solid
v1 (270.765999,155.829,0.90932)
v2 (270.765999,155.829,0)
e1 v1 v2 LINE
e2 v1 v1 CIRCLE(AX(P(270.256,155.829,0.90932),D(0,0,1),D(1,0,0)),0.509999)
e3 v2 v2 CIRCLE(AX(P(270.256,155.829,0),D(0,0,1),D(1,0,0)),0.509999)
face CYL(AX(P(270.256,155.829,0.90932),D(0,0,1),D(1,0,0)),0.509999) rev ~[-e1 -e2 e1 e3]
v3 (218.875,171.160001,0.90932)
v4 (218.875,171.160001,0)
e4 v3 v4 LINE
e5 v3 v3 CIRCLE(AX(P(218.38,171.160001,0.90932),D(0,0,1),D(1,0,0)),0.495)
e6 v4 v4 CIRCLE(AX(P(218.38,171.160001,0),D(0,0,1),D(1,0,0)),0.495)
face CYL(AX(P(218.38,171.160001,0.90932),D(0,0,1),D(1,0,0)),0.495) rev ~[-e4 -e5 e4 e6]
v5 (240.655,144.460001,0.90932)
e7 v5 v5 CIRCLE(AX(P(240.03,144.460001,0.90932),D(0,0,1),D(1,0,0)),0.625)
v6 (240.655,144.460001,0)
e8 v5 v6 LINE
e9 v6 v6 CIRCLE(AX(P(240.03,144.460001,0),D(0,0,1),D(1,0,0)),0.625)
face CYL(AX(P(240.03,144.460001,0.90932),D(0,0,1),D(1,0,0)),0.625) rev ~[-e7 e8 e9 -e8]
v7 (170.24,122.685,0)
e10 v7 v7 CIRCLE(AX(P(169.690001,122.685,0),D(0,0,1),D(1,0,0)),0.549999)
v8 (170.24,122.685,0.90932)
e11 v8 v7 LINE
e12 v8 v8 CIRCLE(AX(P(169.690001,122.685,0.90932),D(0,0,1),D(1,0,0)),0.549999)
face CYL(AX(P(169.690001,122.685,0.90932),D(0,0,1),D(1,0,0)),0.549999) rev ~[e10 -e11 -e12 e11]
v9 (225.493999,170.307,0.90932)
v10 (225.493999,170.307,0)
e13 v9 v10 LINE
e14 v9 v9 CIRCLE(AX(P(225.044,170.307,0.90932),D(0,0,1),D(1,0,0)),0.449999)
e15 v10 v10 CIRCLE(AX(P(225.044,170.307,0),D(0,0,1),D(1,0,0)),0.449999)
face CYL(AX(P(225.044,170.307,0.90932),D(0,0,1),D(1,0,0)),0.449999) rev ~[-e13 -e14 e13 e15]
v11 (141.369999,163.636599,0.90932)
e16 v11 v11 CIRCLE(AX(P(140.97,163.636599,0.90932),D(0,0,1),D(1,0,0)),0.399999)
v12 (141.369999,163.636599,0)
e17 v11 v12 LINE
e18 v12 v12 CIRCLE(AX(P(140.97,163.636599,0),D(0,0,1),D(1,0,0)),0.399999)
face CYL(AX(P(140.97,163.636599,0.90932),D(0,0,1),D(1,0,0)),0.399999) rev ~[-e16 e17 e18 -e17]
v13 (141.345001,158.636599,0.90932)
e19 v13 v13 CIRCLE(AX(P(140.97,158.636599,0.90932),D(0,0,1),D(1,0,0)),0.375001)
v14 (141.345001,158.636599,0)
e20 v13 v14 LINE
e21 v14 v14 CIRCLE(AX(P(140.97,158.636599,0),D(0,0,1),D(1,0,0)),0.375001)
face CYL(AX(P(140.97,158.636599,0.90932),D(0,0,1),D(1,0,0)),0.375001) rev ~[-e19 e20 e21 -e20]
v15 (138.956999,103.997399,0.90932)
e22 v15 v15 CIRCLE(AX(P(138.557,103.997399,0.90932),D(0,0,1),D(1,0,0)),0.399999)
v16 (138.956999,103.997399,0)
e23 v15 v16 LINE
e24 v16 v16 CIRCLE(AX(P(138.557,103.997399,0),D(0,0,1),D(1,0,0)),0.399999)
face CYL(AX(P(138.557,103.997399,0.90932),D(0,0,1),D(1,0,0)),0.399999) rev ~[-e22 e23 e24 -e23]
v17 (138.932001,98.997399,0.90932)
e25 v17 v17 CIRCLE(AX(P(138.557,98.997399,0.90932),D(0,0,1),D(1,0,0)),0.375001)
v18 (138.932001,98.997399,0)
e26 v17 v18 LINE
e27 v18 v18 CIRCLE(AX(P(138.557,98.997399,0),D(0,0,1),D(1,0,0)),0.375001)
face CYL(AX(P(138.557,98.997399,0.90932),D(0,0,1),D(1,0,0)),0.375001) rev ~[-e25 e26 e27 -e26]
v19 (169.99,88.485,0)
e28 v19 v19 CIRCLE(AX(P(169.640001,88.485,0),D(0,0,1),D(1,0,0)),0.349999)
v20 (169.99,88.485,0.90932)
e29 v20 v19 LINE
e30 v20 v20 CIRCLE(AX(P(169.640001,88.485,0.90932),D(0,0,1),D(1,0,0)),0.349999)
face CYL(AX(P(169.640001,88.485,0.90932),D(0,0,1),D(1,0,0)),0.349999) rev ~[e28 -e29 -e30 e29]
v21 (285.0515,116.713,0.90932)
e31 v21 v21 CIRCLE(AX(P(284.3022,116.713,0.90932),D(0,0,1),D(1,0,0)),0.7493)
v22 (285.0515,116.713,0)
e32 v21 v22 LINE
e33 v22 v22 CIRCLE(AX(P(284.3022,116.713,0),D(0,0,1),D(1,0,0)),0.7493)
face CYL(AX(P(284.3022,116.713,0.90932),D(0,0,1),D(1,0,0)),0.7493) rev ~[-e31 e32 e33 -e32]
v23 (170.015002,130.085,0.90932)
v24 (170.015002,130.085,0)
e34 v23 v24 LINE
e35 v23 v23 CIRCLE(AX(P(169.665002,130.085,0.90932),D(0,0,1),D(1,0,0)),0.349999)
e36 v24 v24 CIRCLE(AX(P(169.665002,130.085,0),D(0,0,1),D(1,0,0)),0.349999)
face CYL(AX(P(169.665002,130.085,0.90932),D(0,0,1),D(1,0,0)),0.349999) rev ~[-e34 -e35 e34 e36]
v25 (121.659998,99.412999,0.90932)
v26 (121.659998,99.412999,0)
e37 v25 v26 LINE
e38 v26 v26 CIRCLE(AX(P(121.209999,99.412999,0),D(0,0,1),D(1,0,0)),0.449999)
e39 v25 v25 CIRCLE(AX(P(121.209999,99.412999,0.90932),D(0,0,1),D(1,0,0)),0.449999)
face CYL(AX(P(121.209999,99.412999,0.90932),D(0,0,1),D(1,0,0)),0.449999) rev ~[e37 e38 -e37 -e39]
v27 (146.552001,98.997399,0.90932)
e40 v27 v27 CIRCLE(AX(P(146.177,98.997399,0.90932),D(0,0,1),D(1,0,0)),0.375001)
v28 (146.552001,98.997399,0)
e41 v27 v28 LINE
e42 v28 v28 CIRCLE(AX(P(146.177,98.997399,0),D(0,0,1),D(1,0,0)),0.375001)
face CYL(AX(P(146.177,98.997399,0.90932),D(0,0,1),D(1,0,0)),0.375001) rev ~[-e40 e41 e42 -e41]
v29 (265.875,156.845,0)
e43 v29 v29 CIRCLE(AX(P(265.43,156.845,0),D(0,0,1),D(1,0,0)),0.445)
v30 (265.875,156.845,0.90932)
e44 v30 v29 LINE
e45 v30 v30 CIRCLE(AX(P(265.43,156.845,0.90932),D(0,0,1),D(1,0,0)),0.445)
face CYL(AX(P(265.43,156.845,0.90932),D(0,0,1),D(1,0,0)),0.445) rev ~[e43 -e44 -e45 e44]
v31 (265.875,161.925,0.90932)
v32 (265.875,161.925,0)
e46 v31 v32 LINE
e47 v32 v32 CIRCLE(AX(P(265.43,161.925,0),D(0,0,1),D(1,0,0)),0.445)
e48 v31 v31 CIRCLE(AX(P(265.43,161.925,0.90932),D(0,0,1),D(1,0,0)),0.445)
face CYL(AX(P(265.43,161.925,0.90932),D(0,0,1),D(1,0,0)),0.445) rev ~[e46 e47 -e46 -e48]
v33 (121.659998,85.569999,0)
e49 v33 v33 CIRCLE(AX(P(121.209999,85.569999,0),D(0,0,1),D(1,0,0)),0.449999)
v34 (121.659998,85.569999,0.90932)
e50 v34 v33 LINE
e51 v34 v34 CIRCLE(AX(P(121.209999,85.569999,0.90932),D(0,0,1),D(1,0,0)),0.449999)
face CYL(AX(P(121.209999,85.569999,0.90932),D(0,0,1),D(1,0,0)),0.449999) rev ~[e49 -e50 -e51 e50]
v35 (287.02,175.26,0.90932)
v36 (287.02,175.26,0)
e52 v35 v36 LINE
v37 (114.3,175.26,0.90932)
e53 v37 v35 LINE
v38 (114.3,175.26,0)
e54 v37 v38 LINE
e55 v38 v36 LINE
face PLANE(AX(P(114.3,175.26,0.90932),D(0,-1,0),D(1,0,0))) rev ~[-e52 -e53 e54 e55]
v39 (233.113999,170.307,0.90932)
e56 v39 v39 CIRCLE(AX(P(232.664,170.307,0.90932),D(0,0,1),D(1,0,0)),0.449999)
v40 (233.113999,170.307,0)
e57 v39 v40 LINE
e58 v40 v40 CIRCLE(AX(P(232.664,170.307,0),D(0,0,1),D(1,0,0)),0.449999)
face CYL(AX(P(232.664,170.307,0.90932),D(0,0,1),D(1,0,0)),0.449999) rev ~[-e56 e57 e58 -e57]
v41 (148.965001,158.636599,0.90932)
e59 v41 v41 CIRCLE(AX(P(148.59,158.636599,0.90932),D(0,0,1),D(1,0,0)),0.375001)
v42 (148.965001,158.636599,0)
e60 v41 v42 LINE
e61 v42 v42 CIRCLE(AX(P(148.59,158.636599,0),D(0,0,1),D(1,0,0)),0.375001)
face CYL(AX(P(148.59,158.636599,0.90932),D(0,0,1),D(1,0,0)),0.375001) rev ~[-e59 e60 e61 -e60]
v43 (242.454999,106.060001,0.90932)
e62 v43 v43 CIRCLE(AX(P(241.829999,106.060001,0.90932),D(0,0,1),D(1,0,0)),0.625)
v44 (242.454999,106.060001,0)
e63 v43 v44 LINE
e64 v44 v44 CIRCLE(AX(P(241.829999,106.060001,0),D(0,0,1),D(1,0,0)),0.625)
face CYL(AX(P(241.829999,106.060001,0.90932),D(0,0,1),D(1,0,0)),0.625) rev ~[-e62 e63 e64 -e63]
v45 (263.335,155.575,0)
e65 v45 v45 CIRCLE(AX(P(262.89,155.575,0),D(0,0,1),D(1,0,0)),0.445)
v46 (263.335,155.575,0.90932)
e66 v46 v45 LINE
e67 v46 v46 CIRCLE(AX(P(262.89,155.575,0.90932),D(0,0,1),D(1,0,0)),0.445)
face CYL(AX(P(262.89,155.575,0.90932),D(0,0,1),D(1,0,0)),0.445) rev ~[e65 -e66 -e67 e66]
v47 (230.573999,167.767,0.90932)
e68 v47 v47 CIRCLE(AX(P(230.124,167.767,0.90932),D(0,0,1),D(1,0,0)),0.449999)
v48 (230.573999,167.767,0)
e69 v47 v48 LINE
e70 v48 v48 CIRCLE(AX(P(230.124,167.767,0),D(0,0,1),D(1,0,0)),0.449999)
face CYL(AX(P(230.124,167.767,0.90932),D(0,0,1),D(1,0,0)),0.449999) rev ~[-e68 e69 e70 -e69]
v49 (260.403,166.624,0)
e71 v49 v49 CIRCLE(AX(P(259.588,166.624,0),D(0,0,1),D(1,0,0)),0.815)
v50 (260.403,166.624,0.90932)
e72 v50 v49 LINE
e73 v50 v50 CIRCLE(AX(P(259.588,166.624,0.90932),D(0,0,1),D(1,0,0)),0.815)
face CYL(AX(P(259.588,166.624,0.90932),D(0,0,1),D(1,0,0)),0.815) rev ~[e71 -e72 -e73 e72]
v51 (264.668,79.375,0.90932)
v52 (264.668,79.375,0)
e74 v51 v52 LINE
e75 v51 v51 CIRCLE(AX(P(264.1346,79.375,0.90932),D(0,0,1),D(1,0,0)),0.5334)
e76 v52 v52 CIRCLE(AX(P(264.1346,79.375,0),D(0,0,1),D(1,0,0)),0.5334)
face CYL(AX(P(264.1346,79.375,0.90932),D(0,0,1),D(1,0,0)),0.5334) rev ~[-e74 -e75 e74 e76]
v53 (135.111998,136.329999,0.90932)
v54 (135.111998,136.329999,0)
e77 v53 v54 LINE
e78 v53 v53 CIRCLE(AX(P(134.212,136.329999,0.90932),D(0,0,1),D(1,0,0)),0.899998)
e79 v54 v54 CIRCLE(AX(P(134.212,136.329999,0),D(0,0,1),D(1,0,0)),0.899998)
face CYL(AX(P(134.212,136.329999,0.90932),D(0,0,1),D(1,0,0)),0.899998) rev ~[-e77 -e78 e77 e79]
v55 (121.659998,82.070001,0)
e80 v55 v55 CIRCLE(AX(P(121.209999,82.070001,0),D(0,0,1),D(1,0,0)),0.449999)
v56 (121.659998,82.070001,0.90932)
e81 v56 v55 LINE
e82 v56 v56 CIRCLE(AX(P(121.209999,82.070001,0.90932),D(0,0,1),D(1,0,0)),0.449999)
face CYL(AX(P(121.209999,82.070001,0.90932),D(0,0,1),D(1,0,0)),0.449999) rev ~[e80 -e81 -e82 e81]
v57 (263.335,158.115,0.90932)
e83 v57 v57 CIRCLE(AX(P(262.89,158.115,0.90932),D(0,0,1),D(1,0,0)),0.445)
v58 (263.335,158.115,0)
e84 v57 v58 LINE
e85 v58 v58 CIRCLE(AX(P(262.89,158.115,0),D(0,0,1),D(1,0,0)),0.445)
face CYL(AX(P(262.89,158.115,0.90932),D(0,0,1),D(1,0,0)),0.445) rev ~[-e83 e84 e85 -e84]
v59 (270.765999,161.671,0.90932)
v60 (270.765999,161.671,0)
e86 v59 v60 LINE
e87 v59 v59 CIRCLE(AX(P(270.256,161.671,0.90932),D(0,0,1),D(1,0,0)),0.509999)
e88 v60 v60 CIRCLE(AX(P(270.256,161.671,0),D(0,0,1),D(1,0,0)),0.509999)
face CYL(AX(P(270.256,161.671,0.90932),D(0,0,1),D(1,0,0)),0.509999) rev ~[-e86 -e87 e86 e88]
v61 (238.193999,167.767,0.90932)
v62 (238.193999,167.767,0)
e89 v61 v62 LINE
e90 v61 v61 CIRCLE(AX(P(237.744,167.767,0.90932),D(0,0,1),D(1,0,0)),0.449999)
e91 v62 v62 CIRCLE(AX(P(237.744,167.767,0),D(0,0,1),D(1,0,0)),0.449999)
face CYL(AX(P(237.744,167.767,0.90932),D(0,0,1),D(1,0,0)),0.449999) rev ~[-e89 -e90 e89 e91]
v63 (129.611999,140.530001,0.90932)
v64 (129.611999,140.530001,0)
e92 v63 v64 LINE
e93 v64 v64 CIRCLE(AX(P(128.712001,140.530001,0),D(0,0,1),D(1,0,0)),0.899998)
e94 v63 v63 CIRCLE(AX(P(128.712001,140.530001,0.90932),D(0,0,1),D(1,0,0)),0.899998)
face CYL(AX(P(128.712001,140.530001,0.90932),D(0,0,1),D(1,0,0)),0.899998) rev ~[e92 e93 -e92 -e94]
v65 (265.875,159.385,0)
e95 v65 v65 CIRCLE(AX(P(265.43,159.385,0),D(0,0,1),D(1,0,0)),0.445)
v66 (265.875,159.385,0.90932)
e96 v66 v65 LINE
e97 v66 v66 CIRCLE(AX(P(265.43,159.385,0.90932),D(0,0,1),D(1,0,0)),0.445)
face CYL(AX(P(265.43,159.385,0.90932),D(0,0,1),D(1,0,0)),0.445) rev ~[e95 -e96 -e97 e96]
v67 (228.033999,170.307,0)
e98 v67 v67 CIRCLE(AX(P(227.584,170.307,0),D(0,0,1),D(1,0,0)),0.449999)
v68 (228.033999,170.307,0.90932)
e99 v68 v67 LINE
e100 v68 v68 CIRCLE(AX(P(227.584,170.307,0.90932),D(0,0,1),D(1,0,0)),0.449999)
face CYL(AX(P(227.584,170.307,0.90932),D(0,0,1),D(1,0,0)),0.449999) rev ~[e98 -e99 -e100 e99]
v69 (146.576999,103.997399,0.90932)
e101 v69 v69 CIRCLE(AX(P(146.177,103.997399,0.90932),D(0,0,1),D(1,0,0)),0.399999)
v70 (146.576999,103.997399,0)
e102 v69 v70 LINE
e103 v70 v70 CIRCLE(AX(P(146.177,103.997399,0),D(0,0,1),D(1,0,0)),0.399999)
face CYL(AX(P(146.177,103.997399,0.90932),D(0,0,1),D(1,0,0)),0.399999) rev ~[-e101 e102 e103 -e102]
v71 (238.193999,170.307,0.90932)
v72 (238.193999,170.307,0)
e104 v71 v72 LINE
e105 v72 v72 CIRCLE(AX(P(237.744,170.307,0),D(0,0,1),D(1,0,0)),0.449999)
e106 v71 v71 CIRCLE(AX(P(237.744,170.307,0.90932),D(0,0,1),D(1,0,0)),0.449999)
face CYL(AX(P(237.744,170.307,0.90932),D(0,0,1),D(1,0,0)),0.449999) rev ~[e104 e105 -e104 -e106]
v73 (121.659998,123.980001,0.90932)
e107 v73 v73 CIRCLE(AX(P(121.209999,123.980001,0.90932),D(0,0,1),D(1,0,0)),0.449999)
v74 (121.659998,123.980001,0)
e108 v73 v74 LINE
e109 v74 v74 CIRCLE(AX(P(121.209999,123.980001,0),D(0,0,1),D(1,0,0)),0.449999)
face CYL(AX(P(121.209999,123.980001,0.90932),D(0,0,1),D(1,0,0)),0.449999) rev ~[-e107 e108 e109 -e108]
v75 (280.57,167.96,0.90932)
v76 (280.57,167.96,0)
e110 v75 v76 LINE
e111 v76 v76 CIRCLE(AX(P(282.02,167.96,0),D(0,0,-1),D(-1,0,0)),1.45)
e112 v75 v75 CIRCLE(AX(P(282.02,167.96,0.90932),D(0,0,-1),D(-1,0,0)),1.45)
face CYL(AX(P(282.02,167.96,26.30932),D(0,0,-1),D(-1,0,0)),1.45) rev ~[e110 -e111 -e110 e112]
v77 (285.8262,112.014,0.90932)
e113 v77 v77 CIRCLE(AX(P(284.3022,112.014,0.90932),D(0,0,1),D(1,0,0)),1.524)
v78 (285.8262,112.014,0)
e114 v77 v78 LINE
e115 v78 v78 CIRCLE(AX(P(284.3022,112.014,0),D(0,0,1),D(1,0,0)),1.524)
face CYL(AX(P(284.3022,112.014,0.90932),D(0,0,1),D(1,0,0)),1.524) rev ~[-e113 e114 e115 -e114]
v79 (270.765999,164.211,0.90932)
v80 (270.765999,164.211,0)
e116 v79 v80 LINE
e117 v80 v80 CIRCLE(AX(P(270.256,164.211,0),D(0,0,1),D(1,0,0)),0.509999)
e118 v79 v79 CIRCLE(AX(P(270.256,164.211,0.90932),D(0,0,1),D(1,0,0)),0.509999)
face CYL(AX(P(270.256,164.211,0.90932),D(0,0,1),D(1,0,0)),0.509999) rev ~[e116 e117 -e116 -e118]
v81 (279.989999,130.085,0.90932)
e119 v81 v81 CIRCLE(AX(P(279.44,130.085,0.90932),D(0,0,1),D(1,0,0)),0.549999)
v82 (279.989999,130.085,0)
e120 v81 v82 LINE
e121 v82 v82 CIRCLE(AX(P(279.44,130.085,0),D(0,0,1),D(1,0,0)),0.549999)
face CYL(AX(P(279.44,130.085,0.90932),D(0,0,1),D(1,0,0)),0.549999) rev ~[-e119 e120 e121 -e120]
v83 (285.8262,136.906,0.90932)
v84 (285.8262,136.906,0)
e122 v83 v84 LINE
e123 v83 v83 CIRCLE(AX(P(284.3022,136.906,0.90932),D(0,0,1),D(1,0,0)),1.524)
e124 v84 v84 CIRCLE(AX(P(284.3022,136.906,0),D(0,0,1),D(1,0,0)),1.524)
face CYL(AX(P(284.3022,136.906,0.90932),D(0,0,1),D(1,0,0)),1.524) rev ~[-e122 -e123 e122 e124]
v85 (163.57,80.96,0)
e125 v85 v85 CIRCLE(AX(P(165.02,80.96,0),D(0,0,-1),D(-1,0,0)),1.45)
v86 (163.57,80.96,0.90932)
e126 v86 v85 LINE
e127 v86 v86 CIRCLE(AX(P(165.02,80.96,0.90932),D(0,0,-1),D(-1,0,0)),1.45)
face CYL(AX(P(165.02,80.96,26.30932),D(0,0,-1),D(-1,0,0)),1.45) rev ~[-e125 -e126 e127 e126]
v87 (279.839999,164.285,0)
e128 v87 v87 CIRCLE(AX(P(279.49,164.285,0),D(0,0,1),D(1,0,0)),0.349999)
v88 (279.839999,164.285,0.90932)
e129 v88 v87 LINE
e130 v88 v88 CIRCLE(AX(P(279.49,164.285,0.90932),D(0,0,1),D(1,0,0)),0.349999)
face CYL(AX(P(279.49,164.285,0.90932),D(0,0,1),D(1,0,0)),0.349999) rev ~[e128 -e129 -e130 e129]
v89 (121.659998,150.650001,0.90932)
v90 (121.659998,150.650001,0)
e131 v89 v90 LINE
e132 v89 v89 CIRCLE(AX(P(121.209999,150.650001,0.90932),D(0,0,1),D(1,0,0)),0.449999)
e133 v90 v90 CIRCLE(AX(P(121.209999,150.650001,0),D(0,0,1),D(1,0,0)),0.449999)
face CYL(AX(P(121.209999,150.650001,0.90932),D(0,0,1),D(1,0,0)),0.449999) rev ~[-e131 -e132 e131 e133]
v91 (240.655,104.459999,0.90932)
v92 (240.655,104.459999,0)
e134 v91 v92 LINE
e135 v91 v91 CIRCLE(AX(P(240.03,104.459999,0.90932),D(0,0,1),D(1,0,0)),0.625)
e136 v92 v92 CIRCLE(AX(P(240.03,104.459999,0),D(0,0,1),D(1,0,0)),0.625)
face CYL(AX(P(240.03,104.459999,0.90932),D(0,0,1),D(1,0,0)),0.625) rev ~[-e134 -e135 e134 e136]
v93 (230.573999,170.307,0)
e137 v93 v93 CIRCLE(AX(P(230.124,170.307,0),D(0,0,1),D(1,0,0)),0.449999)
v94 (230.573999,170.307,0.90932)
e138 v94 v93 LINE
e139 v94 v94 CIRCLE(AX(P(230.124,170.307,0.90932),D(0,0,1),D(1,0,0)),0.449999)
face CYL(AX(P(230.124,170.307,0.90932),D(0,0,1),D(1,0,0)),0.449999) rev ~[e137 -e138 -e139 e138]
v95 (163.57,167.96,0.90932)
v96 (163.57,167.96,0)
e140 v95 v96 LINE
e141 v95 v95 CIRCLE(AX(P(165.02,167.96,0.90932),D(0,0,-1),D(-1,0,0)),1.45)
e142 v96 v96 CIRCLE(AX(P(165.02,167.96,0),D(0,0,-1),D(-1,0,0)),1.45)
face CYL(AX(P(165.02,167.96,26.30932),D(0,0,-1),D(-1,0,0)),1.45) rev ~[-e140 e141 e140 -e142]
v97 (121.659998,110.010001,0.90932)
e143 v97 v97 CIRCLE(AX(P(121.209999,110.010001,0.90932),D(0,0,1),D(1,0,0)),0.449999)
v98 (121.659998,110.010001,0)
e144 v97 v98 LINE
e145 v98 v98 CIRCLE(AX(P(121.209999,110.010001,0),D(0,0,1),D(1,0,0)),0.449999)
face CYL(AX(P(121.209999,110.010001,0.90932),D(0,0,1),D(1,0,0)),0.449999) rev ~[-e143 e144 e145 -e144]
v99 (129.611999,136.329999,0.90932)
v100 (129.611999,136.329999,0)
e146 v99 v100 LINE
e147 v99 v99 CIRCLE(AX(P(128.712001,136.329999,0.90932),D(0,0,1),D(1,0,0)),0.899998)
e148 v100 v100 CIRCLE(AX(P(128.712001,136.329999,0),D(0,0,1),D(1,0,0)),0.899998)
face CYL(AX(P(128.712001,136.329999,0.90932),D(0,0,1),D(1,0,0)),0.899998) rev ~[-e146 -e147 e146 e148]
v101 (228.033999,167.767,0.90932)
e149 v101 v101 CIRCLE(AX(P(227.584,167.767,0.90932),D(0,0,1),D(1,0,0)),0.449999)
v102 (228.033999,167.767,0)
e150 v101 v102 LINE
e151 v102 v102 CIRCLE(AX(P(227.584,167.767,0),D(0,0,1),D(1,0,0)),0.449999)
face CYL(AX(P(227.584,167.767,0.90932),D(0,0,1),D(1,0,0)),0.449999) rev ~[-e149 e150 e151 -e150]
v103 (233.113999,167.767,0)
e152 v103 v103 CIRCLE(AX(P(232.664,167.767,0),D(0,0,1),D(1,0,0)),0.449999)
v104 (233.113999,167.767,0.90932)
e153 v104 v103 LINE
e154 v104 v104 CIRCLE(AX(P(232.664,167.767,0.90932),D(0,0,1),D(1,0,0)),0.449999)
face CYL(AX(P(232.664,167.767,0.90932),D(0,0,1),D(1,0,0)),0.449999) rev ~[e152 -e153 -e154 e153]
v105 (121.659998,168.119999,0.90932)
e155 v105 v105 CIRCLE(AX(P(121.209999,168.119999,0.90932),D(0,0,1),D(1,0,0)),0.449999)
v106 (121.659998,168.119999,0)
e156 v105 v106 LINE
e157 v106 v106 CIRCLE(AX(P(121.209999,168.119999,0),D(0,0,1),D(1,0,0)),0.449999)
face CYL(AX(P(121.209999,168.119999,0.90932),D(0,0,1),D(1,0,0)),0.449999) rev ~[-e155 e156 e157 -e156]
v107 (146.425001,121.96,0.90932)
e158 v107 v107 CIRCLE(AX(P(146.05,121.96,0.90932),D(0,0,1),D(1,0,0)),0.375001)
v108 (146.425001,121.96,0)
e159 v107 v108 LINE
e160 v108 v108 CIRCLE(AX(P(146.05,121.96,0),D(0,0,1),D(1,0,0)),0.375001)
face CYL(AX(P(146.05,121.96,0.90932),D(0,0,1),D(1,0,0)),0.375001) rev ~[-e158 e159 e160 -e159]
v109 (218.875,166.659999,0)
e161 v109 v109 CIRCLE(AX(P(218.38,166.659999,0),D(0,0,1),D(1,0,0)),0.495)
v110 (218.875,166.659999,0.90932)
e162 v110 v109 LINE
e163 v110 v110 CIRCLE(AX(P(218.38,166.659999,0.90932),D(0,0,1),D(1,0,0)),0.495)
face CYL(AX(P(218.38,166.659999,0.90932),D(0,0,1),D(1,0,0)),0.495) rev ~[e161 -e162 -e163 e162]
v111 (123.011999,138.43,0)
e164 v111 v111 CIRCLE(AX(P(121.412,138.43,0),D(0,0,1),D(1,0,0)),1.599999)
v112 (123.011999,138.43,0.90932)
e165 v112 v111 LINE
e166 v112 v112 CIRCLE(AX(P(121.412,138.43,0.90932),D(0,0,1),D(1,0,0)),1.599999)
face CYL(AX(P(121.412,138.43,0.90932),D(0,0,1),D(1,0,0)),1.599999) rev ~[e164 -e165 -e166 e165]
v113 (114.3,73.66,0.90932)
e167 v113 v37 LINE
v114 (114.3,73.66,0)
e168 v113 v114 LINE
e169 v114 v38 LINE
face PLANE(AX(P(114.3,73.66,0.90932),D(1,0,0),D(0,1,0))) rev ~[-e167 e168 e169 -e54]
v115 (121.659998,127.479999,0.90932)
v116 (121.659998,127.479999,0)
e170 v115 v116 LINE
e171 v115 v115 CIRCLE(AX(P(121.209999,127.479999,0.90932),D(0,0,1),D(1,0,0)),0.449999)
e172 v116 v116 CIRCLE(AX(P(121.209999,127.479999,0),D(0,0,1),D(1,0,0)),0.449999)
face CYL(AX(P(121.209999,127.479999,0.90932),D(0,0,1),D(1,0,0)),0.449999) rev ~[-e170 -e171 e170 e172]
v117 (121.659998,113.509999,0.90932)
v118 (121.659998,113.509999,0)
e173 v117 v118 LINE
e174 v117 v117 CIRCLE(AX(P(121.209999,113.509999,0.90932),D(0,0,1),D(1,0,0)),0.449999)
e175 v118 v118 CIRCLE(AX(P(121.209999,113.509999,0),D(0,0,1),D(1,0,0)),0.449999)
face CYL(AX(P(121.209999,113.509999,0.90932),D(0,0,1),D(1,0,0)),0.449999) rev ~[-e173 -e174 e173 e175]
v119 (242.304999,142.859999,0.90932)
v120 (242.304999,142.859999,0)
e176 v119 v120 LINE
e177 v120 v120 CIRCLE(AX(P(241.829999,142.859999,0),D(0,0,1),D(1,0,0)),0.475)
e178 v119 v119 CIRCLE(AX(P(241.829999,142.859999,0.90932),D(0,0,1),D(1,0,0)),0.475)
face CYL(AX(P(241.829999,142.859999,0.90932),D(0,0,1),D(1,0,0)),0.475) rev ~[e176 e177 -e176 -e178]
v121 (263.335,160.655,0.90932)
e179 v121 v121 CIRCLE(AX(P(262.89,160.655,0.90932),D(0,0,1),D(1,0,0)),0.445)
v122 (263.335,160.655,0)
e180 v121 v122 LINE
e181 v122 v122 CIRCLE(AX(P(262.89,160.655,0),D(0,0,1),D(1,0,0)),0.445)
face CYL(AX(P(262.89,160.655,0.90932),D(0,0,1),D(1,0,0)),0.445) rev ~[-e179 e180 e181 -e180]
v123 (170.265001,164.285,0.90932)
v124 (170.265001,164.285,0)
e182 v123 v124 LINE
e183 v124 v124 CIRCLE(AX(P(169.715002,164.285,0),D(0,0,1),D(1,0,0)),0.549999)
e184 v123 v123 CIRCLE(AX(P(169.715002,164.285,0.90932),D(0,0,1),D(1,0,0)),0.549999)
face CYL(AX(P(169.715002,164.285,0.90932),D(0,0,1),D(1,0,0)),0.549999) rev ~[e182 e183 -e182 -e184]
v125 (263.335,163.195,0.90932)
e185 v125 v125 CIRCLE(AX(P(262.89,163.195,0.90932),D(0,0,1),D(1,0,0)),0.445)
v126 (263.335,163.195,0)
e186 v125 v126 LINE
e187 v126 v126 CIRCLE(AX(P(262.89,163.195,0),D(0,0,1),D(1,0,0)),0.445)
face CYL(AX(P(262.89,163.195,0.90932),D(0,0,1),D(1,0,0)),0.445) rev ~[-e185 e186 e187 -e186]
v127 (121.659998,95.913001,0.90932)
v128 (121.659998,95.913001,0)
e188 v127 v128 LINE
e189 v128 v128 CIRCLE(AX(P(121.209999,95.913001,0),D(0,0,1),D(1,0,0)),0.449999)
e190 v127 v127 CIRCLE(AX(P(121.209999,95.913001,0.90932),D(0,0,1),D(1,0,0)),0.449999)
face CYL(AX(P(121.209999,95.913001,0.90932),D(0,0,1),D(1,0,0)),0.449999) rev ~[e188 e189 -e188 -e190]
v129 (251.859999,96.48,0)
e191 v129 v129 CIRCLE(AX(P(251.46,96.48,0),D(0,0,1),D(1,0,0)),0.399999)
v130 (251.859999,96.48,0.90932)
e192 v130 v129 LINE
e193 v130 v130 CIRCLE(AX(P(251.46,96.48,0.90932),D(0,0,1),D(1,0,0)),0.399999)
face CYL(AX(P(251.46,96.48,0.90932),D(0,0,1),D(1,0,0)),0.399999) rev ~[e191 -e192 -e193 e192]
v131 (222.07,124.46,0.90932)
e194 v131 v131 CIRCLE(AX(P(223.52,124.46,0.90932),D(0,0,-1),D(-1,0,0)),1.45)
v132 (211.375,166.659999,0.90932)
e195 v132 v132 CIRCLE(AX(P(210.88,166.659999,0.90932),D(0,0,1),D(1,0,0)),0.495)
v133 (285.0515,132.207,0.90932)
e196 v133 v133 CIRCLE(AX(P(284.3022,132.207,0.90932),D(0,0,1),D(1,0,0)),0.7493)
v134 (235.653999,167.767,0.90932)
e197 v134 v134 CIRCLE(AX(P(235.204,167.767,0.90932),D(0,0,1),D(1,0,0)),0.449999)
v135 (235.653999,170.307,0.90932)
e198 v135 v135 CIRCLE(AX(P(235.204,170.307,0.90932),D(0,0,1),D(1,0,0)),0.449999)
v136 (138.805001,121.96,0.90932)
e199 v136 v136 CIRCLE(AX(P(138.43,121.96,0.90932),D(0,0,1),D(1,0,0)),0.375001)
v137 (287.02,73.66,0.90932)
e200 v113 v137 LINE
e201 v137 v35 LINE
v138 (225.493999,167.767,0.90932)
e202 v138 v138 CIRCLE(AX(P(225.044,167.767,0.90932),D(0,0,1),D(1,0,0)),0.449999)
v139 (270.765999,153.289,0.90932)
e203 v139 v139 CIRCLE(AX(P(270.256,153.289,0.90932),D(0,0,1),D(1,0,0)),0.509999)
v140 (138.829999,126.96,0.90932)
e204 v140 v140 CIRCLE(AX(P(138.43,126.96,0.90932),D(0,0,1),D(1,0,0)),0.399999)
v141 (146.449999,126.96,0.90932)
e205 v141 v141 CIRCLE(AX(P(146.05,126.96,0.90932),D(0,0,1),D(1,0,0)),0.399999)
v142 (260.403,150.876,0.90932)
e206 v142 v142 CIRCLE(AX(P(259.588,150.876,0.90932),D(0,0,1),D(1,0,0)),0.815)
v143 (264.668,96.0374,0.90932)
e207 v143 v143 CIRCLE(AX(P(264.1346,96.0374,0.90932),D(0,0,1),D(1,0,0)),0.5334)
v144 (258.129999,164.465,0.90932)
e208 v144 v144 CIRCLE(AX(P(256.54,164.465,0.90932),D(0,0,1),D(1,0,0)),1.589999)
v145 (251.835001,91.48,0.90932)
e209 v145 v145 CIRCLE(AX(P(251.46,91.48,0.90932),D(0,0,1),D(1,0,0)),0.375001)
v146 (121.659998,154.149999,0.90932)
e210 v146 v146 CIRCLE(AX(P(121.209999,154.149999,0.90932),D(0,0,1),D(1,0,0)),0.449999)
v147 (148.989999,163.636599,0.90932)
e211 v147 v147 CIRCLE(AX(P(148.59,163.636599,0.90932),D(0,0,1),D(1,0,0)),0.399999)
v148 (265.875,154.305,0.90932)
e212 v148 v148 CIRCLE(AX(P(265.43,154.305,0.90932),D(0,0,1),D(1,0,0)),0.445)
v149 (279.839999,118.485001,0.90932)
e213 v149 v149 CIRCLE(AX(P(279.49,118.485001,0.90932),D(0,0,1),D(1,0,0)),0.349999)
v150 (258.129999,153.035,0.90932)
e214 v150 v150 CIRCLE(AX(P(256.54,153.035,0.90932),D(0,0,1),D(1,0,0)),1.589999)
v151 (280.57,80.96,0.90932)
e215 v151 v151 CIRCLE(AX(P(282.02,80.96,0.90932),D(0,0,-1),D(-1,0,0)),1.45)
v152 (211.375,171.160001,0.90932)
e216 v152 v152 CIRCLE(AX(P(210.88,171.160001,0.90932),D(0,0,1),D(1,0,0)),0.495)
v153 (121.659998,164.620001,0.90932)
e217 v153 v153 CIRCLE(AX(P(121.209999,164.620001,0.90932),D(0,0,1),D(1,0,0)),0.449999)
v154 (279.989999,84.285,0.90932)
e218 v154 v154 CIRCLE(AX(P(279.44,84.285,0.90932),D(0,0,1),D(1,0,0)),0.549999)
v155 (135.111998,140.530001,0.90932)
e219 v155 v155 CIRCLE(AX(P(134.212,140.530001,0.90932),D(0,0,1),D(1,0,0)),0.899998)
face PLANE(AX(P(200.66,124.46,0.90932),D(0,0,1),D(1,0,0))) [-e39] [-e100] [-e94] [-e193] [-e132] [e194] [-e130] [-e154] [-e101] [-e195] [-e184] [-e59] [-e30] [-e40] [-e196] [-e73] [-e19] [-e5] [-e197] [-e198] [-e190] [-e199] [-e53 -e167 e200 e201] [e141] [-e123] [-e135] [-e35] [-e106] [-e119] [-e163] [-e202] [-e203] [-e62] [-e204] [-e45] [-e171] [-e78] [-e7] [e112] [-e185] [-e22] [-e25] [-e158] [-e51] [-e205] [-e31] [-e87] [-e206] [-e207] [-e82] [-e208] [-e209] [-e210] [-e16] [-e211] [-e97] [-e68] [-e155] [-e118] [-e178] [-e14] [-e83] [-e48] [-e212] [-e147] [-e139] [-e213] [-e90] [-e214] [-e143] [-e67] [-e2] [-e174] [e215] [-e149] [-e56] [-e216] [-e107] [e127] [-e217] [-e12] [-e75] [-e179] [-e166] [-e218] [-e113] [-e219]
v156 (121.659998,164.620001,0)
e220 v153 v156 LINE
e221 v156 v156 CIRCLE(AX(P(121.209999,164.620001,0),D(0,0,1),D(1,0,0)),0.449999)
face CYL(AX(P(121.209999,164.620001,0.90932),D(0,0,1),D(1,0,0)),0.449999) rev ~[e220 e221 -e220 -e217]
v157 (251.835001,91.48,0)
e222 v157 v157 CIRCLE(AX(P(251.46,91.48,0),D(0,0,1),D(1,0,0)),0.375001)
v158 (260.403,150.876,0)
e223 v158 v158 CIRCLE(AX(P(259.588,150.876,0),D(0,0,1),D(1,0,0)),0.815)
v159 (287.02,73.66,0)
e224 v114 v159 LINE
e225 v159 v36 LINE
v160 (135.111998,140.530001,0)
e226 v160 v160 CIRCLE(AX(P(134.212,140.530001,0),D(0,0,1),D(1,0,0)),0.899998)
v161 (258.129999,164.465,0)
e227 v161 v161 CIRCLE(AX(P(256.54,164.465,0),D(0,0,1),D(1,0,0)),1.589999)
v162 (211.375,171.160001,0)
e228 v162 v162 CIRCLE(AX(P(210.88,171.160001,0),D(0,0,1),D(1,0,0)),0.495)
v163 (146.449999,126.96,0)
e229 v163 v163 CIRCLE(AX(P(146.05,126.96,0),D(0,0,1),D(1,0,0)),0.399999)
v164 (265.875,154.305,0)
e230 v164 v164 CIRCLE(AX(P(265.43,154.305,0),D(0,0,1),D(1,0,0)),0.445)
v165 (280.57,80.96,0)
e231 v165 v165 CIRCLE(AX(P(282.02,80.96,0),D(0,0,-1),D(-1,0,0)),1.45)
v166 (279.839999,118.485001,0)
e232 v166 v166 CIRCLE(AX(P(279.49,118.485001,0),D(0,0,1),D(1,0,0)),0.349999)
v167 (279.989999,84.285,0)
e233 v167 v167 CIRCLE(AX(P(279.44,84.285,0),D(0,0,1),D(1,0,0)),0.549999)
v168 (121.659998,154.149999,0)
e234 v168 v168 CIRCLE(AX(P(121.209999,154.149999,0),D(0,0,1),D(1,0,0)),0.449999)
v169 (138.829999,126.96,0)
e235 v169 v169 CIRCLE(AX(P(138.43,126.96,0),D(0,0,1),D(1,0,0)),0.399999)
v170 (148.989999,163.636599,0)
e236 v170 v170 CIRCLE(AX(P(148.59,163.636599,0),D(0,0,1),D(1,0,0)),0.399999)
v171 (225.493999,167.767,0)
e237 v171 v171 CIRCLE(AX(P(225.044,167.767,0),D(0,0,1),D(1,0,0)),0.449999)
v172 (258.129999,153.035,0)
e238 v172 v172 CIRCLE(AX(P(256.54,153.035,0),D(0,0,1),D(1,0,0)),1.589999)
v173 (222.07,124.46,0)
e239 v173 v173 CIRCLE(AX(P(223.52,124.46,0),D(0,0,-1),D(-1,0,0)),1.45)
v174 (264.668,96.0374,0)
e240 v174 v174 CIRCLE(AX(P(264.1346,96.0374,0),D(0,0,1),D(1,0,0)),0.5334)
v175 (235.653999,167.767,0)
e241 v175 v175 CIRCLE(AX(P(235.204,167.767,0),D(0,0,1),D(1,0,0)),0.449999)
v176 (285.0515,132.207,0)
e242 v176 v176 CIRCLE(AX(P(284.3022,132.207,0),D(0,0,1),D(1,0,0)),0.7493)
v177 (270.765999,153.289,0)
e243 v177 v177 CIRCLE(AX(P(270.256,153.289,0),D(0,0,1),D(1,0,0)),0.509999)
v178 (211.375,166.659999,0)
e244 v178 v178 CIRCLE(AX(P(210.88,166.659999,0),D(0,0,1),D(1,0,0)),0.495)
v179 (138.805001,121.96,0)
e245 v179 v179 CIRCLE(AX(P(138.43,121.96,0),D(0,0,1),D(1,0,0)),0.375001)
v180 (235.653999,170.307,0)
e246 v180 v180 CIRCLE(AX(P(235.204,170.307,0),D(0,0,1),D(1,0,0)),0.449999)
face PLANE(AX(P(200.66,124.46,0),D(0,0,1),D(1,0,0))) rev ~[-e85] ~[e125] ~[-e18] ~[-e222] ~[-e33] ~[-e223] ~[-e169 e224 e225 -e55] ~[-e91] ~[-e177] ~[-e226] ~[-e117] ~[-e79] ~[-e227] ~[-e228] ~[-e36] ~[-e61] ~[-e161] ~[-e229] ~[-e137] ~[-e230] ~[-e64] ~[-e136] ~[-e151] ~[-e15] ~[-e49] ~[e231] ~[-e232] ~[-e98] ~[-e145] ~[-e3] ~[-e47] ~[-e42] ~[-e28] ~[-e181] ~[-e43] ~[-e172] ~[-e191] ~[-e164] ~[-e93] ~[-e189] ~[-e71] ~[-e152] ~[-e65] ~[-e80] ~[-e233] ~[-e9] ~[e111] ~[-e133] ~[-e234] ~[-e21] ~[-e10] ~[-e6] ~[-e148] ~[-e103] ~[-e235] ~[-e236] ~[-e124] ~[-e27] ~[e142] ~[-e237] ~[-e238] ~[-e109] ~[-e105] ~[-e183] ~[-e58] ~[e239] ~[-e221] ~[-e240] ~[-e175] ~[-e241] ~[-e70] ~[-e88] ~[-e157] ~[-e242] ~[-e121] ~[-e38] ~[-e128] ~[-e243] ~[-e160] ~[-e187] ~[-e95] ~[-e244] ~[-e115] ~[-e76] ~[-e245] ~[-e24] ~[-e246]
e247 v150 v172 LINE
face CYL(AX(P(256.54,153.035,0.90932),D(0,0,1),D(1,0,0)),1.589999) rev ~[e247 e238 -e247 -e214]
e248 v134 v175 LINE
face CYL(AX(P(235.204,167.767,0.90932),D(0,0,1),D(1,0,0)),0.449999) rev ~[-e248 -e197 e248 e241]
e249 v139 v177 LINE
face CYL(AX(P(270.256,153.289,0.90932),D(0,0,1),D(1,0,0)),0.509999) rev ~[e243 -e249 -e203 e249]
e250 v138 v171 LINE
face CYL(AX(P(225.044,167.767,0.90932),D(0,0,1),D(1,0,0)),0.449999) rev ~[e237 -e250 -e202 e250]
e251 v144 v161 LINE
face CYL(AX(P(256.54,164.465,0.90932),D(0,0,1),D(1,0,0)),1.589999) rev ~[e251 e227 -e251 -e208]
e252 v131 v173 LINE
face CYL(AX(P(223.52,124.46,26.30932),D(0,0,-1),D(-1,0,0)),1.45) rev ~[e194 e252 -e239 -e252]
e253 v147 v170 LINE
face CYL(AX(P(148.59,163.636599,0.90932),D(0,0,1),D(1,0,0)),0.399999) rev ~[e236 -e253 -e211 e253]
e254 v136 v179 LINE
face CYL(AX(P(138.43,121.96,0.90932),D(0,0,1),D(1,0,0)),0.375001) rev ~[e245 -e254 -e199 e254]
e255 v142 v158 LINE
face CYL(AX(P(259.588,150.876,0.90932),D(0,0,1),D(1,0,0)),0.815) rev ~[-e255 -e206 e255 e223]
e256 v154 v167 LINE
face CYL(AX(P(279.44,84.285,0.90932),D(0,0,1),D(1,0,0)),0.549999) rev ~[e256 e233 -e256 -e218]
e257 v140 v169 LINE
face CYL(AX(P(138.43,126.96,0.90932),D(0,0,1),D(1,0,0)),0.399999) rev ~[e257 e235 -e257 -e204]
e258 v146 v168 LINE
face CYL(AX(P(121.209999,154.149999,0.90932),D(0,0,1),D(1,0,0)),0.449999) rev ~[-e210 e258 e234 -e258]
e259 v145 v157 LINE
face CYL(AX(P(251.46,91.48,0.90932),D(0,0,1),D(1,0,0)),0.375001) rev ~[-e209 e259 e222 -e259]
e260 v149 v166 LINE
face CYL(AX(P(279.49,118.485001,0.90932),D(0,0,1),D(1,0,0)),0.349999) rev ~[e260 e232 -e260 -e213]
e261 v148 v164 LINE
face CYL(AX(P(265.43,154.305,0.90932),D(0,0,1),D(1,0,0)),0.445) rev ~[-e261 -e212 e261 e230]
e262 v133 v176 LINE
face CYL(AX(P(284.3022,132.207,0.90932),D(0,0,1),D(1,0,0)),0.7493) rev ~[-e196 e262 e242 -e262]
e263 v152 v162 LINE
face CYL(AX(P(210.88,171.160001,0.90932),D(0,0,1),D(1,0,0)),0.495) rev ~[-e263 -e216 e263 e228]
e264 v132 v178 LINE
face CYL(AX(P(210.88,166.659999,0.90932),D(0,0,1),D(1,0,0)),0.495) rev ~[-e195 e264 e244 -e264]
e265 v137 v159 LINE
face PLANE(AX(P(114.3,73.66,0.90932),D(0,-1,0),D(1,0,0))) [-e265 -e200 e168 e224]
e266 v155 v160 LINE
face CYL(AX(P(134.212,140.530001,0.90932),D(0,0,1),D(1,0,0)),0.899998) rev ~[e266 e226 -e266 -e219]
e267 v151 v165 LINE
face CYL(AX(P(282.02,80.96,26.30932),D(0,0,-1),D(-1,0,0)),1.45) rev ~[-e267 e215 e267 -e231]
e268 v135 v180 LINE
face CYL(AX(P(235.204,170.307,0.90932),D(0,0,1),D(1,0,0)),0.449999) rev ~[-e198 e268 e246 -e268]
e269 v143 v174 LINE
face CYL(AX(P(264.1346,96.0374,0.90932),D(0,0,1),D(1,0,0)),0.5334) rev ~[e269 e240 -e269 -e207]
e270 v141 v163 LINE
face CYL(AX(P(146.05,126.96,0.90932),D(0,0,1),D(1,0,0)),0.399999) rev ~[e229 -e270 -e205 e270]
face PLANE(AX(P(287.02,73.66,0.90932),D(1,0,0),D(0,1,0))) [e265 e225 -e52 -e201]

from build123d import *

# Parameters (mm, degrees)
SKETCH1_W                  = 172.72
SKETCH1_H                  = 101.6
SKETCH1_R                  = 0.3499993
SKETCH1_R_2                = 0.50999898
SKETCH1_R_3                = 0.44500038
SKETCH1_R_4                = 0.4499991
SKETCH1_R_5                = 0.81499964
SKETCH1_R_6                = 1.58999936
SKETCH1_R_7                = 1.524
SKETCH1_R_8                = 0.7493
SKETCH1_R_9                = 0.5499989
SKETCH1_R_10               = 0.5334
SKETCH1_R_11               = 0.62500002
SKETCH1_R_12               = 0.47500032
SKETCH1_R_13               = 0.3999992
SKETCH1_R_14               = 0.37500052
SKETCH1_R_15               = 0.49500028
SKETCH1_R_16               = 0.8999982
SKETCH1_R_17               = 1.59999934
BOSS_EXTRUDE1_DEPTH        = 0.90932
M2_5_CLEARANCE_HOLE1_D     = 2.9
M2_5_CLEARANCE_HOLE1_DEPTH = 25.4
M2_5_CLEARANCE_HOLE1_TIP   = 0.871247898


with BuildPart() as part:
    # Sketch1 → Boss-Extrude1 (new body)
    with BuildSketch(Plane.XY.offset(0.90932)):
        with Locations((200.66, 124.46)):
            Rectangle(SKETCH1_W, SKETCH1_H)
        with Locations((279.48999982, 164.28500036)):
            Circle(SKETCH1_R, mode=Mode.SUBTRACT)
        with Locations((270.256, 164.211)):
            Circle(SKETCH1_R_2, mode=Mode.SUBTRACT)
        with Locations((265.43, 161.925)):
            Circle(SKETCH1_R_3, mode=Mode.SUBTRACT)
        with Locations((262.89, 163.195)):
            Circle(SKETCH1_R_3, mode=Mode.SUBTRACT)
        with Locations((270.256, 161.671)):
            Circle(SKETCH1_R_2, mode=Mode.SUBTRACT)
        with Locations((265.43, 156.845)):
            Circle(SKETCH1_R_3, mode=Mode.SUBTRACT)
        with Locations((265.43, 159.385)):
            Circle(SKETCH1_R_3, mode=Mode.SUBTRACT)
        with Locations((270.256, 155.829)):
            Circle(SKETCH1_R_2, mode=Mode.SUBTRACT)
        with Locations((262.89, 160.655)):
            Circle(SKETCH1_R_3, mode=Mode.SUBTRACT)
        with Locations((262.89, 158.115)):
            Circle(SKETCH1_R_3, mode=Mode.SUBTRACT)
        with Locations((237.744, 167.767)):
            Circle(SKETCH1_R_4, mode=Mode.SUBTRACT)
        with Locations((237.744, 170.307)):
            Circle(SKETCH1_R_4, mode=Mode.SUBTRACT)
        with Locations((235.204, 167.767)):
            Circle(SKETCH1_R_4, mode=Mode.SUBTRACT)
        with Locations((232.664, 170.307)):
            Circle(SKETCH1_R_4, mode=Mode.SUBTRACT)
        with Locations((230.124, 170.307)):
            Circle(SKETCH1_R_4, mode=Mode.SUBTRACT)
        with Locations((235.204, 170.307)):
            Circle(SKETCH1_R_4, mode=Mode.SUBTRACT)
        with Locations((259.588, 166.624)):
            Circle(SKETCH1_R_5, mode=Mode.SUBTRACT)
        with Locations((232.664, 167.767)):
            Circle(SKETCH1_R_4, mode=Mode.SUBTRACT)
        with Locations((256.54, 164.465)):
            Circle(SKETCH1_R_6, mode=Mode.SUBTRACT)
        with Locations((227.584, 167.767)):
            Circle(SKETCH1_R_4, mode=Mode.SUBTRACT)
        with Locations((230.124, 167.767)):
            Circle(SKETCH1_R_4, mode=Mode.SUBTRACT)
        with Locations((284.3022, 136.906)):
            Circle(SKETCH1_R_7, mode=Mode.SUBTRACT)
        with Locations((284.3022, 132.207)):
            Circle(SKETCH1_R_8, mode=Mode.SUBTRACT)
        with Locations((279.48999982, 118.48500052)):
            Circle(SKETCH1_R, mode=Mode.SUBTRACT)
        with Locations((270.256, 153.289)):
            Circle(SKETCH1_R_2, mode=Mode.SUBTRACT)
        with Locations((265.43, 154.305)):
            Circle(SKETCH1_R_3, mode=Mode.SUBTRACT)
        with Locations((279.43999992, 130.08500018)):
            Circle(SKETCH1_R_9, mode=Mode.SUBTRACT)
        with Locations((284.3022, 112.014)):
            Circle(SKETCH1_R_7, mode=Mode.SUBTRACT)
        with Locations((284.3022, 116.713)):
            Circle(SKETCH1_R_8, mode=Mode.SUBTRACT)
        with Locations((279.43999992, 84.28500034)):
            Circle(SKETCH1_R_9, mode=Mode.SUBTRACT)
        with Locations((264.1346, 79.375)):
            Circle(SKETCH1_R_10, mode=Mode.SUBTRACT)
        with Locations((262.89, 155.575)):
            Circle(SKETCH1_R_3, mode=Mode.SUBTRACT)
        with Locations((256.54, 153.035)):
            Circle(SKETCH1_R_6, mode=Mode.SUBTRACT)
        with Locations((259.588, 150.876)):
            Circle(SKETCH1_R_5, mode=Mode.SUBTRACT)
        with Locations((240.03, 144.46000064)):
            Circle(SKETCH1_R_11, mode=Mode.SUBTRACT)
        with Locations((241.82999894, 142.85999876)):
            Circle(SKETCH1_R_12, mode=Mode.SUBTRACT)
        with Locations((264.1346, 96.0374)):
            Circle(SKETCH1_R_10, mode=Mode.SUBTRACT)
        with Locations((251.46, 96.48000008)):
            Circle(SKETCH1_R_13, mode=Mode.SUBTRACT)
        with Locations((251.46, 91.47999992)):
            Circle(SKETCH1_R_14, mode=Mode.SUBTRACT)
        with Locations((241.82999894, 106.06000124)):
            Circle(SKETCH1_R_11, mode=Mode.SUBTRACT)
        with Locations((240.03, 104.45999936)):
            Circle(SKETCH1_R_11, mode=Mode.SUBTRACT)
        with Locations((227.584, 170.307)):
            Circle(SKETCH1_R_4, mode=Mode.SUBTRACT)
        with Locations((225.044, 170.307)):
            Circle(SKETCH1_R_4, mode=Mode.SUBTRACT)
        with Locations((225.044, 167.767)):
            Circle(SKETCH1_R_4, mode=Mode.SUBTRACT)
        with Locations((218.38000012, 171.16000058)):
            Circle(SKETCH1_R_15, mode=Mode.SUBTRACT)
        with Locations((210.87999988, 171.16000058)):
            Circle(SKETCH1_R_15, mode=Mode.SUBTRACT)
        with Locations((218.38000012, 166.65999942)):
            Circle(SKETCH1_R_15, mode=Mode.SUBTRACT)
        with Locations((210.87999988, 166.65999942)):
            Circle(SKETCH1_R_15, mode=Mode.SUBTRACT)
        with Locations((169.7150022, 164.28500036)):
            Circle(SKETCH1_R_9, mode=Mode.SUBTRACT)
        with Locations((148.59, 163.63659932)):
            Circle(SKETCH1_R_13, mode=Mode.SUBTRACT)
        with Locations((148.59, 158.63659916)):
            Circle(SKETCH1_R_14, mode=Mode.SUBTRACT)
        with Locations((140.97, 163.63659932)):
            Circle(SKETCH1_R_13, mode=Mode.SUBTRACT)
        with Locations((121.20999888, 168.11999904)):
            Circle(SKETCH1_R_4, mode=Mode.SUBTRACT)
        with Locations((140.97, 158.63659916)):
            Circle(SKETCH1_R_14, mode=Mode.SUBTRACT)
        with Locations((121.20999888, 164.62000096)):
            Circle(SKETCH1_R_4, mode=Mode.SUBTRACT)
        with Locations((121.20999888, 154.14999904)):
            Circle(SKETCH1_R_4, mode=Mode.SUBTRACT)
        with Locations((134.2119998, 140.53000088)):
            Circle(SKETCH1_R_16, mode=Mode.SUBTRACT)
        with Locations((128.71200064, 140.53000088)):
            Circle(SKETCH1_R_16, mode=Mode.SUBTRACT)
        with Locations((134.2119998, 136.32999912)):
            Circle(SKETCH1_R_16, mode=Mode.SUBTRACT)
        with Locations((121.20999888, 150.65000096)):
            Circle(SKETCH1_R_4, mode=Mode.SUBTRACT)
        with Locations((121.412, 138.43)):
            Circle(SKETCH1_R_17, mode=Mode.SUBTRACT)
        with Locations((169.69000098, 122.68499974)):
            Circle(SKETCH1_R_9, mode=Mode.SUBTRACT)
        with Locations((169.6650023, 130.08500018)):
            Circle(SKETCH1_R, mode=Mode.SUBTRACT)
        with Locations((146.177, 103.99739932)):
            Circle(SKETCH1_R_13, mode=Mode.SUBTRACT)
        with Locations((146.05, 126.96000008)):
            Circle(SKETCH1_R_13, mode=Mode.SUBTRACT)
        with Locations((138.43, 126.96000008)):
            Circle(SKETCH1_R_13, mode=Mode.SUBTRACT)
        with Locations((146.05, 121.95999992)):
            Circle(SKETCH1_R_14, mode=Mode.SUBTRACT)
        with Locations((169.64000108, 88.48499956)):
            Circle(SKETCH1_R, mode=Mode.SUBTRACT)
        with Locations((146.177, 98.99739916)):
            Circle(SKETCH1_R_14, mode=Mode.SUBTRACT)
        with Locations((138.557, 103.99739932)):
            Circle(SKETCH1_R_13, mode=Mode.SUBTRACT)
        with Locations((138.557, 98.99739916)):
            Circle(SKETCH1_R_14, mode=Mode.SUBTRACT)
        with Locations((128.71200064, 136.32999912)):
            Circle(SKETCH1_R_16, mode=Mode.SUBTRACT)
        with Locations((121.20999888, 127.47999904)):
            Circle(SKETCH1_R_4, mode=Mode.SUBTRACT)
        with Locations((138.43, 121.95999992)):
            Circle(SKETCH1_R_14, mode=Mode.SUBTRACT)
        with Locations((121.20999888, 123.98000096)):
            Circle(SKETCH1_R_4, mode=Mode.SUBTRACT)
        with Locations((121.20999888, 113.50999904)):
            Circle(SKETCH1_R_4, mode=Mode.SUBTRACT)
        with Locations((121.20999888, 85.56999904)):
            Circle(SKETCH1_R_4, mode=Mode.SUBTRACT)
        with Locations((121.20999888, 95.91300096)):
            Circle(SKETCH1_R_4, mode=Mode.SUBTRACT)
        with Locations((121.20999888, 82.07000096)):
            Circle(SKETCH1_R_4, mode=Mode.SUBTRACT)
        with Locations((121.20999888, 110.01000096)):
            Circle(SKETCH1_R_4, mode=Mode.SUBTRACT)
        with Locations((121.20999888, 99.41299904)):
            Circle(SKETCH1_R_4, mode=Mode.SUBTRACT)
    extrude(amount=-BOSS_EXTRUDE1_DEPTH)

    # M2.5 Clearance Hole1
    with Locations(Plane.XY.offset(0.90932)):
        with Locations((282.02, 167.96), (282.02, 80.96), (165.02, 80.96), (165.02, 167.96), (223.52, 124.46)):
            Hole(M2_5_CLEARANCE_HOLE1_D / 2, depth=M2_5_CLEARANCE_HOLE1_DEPTH)
            with Locations((0, 0, -(M2_5_CLEARANCE_HOLE1_DEPTH + M2_5_CLEARANCE_HOLE1_TIP / 2))):  # 118° drill point
                Cone(0, M2_5_CLEARANCE_HOLE1_D / 2, M2_5_CLEARANCE_HOLE1_TIP, mode=Mode.SUBTRACT)


solid = part.part
